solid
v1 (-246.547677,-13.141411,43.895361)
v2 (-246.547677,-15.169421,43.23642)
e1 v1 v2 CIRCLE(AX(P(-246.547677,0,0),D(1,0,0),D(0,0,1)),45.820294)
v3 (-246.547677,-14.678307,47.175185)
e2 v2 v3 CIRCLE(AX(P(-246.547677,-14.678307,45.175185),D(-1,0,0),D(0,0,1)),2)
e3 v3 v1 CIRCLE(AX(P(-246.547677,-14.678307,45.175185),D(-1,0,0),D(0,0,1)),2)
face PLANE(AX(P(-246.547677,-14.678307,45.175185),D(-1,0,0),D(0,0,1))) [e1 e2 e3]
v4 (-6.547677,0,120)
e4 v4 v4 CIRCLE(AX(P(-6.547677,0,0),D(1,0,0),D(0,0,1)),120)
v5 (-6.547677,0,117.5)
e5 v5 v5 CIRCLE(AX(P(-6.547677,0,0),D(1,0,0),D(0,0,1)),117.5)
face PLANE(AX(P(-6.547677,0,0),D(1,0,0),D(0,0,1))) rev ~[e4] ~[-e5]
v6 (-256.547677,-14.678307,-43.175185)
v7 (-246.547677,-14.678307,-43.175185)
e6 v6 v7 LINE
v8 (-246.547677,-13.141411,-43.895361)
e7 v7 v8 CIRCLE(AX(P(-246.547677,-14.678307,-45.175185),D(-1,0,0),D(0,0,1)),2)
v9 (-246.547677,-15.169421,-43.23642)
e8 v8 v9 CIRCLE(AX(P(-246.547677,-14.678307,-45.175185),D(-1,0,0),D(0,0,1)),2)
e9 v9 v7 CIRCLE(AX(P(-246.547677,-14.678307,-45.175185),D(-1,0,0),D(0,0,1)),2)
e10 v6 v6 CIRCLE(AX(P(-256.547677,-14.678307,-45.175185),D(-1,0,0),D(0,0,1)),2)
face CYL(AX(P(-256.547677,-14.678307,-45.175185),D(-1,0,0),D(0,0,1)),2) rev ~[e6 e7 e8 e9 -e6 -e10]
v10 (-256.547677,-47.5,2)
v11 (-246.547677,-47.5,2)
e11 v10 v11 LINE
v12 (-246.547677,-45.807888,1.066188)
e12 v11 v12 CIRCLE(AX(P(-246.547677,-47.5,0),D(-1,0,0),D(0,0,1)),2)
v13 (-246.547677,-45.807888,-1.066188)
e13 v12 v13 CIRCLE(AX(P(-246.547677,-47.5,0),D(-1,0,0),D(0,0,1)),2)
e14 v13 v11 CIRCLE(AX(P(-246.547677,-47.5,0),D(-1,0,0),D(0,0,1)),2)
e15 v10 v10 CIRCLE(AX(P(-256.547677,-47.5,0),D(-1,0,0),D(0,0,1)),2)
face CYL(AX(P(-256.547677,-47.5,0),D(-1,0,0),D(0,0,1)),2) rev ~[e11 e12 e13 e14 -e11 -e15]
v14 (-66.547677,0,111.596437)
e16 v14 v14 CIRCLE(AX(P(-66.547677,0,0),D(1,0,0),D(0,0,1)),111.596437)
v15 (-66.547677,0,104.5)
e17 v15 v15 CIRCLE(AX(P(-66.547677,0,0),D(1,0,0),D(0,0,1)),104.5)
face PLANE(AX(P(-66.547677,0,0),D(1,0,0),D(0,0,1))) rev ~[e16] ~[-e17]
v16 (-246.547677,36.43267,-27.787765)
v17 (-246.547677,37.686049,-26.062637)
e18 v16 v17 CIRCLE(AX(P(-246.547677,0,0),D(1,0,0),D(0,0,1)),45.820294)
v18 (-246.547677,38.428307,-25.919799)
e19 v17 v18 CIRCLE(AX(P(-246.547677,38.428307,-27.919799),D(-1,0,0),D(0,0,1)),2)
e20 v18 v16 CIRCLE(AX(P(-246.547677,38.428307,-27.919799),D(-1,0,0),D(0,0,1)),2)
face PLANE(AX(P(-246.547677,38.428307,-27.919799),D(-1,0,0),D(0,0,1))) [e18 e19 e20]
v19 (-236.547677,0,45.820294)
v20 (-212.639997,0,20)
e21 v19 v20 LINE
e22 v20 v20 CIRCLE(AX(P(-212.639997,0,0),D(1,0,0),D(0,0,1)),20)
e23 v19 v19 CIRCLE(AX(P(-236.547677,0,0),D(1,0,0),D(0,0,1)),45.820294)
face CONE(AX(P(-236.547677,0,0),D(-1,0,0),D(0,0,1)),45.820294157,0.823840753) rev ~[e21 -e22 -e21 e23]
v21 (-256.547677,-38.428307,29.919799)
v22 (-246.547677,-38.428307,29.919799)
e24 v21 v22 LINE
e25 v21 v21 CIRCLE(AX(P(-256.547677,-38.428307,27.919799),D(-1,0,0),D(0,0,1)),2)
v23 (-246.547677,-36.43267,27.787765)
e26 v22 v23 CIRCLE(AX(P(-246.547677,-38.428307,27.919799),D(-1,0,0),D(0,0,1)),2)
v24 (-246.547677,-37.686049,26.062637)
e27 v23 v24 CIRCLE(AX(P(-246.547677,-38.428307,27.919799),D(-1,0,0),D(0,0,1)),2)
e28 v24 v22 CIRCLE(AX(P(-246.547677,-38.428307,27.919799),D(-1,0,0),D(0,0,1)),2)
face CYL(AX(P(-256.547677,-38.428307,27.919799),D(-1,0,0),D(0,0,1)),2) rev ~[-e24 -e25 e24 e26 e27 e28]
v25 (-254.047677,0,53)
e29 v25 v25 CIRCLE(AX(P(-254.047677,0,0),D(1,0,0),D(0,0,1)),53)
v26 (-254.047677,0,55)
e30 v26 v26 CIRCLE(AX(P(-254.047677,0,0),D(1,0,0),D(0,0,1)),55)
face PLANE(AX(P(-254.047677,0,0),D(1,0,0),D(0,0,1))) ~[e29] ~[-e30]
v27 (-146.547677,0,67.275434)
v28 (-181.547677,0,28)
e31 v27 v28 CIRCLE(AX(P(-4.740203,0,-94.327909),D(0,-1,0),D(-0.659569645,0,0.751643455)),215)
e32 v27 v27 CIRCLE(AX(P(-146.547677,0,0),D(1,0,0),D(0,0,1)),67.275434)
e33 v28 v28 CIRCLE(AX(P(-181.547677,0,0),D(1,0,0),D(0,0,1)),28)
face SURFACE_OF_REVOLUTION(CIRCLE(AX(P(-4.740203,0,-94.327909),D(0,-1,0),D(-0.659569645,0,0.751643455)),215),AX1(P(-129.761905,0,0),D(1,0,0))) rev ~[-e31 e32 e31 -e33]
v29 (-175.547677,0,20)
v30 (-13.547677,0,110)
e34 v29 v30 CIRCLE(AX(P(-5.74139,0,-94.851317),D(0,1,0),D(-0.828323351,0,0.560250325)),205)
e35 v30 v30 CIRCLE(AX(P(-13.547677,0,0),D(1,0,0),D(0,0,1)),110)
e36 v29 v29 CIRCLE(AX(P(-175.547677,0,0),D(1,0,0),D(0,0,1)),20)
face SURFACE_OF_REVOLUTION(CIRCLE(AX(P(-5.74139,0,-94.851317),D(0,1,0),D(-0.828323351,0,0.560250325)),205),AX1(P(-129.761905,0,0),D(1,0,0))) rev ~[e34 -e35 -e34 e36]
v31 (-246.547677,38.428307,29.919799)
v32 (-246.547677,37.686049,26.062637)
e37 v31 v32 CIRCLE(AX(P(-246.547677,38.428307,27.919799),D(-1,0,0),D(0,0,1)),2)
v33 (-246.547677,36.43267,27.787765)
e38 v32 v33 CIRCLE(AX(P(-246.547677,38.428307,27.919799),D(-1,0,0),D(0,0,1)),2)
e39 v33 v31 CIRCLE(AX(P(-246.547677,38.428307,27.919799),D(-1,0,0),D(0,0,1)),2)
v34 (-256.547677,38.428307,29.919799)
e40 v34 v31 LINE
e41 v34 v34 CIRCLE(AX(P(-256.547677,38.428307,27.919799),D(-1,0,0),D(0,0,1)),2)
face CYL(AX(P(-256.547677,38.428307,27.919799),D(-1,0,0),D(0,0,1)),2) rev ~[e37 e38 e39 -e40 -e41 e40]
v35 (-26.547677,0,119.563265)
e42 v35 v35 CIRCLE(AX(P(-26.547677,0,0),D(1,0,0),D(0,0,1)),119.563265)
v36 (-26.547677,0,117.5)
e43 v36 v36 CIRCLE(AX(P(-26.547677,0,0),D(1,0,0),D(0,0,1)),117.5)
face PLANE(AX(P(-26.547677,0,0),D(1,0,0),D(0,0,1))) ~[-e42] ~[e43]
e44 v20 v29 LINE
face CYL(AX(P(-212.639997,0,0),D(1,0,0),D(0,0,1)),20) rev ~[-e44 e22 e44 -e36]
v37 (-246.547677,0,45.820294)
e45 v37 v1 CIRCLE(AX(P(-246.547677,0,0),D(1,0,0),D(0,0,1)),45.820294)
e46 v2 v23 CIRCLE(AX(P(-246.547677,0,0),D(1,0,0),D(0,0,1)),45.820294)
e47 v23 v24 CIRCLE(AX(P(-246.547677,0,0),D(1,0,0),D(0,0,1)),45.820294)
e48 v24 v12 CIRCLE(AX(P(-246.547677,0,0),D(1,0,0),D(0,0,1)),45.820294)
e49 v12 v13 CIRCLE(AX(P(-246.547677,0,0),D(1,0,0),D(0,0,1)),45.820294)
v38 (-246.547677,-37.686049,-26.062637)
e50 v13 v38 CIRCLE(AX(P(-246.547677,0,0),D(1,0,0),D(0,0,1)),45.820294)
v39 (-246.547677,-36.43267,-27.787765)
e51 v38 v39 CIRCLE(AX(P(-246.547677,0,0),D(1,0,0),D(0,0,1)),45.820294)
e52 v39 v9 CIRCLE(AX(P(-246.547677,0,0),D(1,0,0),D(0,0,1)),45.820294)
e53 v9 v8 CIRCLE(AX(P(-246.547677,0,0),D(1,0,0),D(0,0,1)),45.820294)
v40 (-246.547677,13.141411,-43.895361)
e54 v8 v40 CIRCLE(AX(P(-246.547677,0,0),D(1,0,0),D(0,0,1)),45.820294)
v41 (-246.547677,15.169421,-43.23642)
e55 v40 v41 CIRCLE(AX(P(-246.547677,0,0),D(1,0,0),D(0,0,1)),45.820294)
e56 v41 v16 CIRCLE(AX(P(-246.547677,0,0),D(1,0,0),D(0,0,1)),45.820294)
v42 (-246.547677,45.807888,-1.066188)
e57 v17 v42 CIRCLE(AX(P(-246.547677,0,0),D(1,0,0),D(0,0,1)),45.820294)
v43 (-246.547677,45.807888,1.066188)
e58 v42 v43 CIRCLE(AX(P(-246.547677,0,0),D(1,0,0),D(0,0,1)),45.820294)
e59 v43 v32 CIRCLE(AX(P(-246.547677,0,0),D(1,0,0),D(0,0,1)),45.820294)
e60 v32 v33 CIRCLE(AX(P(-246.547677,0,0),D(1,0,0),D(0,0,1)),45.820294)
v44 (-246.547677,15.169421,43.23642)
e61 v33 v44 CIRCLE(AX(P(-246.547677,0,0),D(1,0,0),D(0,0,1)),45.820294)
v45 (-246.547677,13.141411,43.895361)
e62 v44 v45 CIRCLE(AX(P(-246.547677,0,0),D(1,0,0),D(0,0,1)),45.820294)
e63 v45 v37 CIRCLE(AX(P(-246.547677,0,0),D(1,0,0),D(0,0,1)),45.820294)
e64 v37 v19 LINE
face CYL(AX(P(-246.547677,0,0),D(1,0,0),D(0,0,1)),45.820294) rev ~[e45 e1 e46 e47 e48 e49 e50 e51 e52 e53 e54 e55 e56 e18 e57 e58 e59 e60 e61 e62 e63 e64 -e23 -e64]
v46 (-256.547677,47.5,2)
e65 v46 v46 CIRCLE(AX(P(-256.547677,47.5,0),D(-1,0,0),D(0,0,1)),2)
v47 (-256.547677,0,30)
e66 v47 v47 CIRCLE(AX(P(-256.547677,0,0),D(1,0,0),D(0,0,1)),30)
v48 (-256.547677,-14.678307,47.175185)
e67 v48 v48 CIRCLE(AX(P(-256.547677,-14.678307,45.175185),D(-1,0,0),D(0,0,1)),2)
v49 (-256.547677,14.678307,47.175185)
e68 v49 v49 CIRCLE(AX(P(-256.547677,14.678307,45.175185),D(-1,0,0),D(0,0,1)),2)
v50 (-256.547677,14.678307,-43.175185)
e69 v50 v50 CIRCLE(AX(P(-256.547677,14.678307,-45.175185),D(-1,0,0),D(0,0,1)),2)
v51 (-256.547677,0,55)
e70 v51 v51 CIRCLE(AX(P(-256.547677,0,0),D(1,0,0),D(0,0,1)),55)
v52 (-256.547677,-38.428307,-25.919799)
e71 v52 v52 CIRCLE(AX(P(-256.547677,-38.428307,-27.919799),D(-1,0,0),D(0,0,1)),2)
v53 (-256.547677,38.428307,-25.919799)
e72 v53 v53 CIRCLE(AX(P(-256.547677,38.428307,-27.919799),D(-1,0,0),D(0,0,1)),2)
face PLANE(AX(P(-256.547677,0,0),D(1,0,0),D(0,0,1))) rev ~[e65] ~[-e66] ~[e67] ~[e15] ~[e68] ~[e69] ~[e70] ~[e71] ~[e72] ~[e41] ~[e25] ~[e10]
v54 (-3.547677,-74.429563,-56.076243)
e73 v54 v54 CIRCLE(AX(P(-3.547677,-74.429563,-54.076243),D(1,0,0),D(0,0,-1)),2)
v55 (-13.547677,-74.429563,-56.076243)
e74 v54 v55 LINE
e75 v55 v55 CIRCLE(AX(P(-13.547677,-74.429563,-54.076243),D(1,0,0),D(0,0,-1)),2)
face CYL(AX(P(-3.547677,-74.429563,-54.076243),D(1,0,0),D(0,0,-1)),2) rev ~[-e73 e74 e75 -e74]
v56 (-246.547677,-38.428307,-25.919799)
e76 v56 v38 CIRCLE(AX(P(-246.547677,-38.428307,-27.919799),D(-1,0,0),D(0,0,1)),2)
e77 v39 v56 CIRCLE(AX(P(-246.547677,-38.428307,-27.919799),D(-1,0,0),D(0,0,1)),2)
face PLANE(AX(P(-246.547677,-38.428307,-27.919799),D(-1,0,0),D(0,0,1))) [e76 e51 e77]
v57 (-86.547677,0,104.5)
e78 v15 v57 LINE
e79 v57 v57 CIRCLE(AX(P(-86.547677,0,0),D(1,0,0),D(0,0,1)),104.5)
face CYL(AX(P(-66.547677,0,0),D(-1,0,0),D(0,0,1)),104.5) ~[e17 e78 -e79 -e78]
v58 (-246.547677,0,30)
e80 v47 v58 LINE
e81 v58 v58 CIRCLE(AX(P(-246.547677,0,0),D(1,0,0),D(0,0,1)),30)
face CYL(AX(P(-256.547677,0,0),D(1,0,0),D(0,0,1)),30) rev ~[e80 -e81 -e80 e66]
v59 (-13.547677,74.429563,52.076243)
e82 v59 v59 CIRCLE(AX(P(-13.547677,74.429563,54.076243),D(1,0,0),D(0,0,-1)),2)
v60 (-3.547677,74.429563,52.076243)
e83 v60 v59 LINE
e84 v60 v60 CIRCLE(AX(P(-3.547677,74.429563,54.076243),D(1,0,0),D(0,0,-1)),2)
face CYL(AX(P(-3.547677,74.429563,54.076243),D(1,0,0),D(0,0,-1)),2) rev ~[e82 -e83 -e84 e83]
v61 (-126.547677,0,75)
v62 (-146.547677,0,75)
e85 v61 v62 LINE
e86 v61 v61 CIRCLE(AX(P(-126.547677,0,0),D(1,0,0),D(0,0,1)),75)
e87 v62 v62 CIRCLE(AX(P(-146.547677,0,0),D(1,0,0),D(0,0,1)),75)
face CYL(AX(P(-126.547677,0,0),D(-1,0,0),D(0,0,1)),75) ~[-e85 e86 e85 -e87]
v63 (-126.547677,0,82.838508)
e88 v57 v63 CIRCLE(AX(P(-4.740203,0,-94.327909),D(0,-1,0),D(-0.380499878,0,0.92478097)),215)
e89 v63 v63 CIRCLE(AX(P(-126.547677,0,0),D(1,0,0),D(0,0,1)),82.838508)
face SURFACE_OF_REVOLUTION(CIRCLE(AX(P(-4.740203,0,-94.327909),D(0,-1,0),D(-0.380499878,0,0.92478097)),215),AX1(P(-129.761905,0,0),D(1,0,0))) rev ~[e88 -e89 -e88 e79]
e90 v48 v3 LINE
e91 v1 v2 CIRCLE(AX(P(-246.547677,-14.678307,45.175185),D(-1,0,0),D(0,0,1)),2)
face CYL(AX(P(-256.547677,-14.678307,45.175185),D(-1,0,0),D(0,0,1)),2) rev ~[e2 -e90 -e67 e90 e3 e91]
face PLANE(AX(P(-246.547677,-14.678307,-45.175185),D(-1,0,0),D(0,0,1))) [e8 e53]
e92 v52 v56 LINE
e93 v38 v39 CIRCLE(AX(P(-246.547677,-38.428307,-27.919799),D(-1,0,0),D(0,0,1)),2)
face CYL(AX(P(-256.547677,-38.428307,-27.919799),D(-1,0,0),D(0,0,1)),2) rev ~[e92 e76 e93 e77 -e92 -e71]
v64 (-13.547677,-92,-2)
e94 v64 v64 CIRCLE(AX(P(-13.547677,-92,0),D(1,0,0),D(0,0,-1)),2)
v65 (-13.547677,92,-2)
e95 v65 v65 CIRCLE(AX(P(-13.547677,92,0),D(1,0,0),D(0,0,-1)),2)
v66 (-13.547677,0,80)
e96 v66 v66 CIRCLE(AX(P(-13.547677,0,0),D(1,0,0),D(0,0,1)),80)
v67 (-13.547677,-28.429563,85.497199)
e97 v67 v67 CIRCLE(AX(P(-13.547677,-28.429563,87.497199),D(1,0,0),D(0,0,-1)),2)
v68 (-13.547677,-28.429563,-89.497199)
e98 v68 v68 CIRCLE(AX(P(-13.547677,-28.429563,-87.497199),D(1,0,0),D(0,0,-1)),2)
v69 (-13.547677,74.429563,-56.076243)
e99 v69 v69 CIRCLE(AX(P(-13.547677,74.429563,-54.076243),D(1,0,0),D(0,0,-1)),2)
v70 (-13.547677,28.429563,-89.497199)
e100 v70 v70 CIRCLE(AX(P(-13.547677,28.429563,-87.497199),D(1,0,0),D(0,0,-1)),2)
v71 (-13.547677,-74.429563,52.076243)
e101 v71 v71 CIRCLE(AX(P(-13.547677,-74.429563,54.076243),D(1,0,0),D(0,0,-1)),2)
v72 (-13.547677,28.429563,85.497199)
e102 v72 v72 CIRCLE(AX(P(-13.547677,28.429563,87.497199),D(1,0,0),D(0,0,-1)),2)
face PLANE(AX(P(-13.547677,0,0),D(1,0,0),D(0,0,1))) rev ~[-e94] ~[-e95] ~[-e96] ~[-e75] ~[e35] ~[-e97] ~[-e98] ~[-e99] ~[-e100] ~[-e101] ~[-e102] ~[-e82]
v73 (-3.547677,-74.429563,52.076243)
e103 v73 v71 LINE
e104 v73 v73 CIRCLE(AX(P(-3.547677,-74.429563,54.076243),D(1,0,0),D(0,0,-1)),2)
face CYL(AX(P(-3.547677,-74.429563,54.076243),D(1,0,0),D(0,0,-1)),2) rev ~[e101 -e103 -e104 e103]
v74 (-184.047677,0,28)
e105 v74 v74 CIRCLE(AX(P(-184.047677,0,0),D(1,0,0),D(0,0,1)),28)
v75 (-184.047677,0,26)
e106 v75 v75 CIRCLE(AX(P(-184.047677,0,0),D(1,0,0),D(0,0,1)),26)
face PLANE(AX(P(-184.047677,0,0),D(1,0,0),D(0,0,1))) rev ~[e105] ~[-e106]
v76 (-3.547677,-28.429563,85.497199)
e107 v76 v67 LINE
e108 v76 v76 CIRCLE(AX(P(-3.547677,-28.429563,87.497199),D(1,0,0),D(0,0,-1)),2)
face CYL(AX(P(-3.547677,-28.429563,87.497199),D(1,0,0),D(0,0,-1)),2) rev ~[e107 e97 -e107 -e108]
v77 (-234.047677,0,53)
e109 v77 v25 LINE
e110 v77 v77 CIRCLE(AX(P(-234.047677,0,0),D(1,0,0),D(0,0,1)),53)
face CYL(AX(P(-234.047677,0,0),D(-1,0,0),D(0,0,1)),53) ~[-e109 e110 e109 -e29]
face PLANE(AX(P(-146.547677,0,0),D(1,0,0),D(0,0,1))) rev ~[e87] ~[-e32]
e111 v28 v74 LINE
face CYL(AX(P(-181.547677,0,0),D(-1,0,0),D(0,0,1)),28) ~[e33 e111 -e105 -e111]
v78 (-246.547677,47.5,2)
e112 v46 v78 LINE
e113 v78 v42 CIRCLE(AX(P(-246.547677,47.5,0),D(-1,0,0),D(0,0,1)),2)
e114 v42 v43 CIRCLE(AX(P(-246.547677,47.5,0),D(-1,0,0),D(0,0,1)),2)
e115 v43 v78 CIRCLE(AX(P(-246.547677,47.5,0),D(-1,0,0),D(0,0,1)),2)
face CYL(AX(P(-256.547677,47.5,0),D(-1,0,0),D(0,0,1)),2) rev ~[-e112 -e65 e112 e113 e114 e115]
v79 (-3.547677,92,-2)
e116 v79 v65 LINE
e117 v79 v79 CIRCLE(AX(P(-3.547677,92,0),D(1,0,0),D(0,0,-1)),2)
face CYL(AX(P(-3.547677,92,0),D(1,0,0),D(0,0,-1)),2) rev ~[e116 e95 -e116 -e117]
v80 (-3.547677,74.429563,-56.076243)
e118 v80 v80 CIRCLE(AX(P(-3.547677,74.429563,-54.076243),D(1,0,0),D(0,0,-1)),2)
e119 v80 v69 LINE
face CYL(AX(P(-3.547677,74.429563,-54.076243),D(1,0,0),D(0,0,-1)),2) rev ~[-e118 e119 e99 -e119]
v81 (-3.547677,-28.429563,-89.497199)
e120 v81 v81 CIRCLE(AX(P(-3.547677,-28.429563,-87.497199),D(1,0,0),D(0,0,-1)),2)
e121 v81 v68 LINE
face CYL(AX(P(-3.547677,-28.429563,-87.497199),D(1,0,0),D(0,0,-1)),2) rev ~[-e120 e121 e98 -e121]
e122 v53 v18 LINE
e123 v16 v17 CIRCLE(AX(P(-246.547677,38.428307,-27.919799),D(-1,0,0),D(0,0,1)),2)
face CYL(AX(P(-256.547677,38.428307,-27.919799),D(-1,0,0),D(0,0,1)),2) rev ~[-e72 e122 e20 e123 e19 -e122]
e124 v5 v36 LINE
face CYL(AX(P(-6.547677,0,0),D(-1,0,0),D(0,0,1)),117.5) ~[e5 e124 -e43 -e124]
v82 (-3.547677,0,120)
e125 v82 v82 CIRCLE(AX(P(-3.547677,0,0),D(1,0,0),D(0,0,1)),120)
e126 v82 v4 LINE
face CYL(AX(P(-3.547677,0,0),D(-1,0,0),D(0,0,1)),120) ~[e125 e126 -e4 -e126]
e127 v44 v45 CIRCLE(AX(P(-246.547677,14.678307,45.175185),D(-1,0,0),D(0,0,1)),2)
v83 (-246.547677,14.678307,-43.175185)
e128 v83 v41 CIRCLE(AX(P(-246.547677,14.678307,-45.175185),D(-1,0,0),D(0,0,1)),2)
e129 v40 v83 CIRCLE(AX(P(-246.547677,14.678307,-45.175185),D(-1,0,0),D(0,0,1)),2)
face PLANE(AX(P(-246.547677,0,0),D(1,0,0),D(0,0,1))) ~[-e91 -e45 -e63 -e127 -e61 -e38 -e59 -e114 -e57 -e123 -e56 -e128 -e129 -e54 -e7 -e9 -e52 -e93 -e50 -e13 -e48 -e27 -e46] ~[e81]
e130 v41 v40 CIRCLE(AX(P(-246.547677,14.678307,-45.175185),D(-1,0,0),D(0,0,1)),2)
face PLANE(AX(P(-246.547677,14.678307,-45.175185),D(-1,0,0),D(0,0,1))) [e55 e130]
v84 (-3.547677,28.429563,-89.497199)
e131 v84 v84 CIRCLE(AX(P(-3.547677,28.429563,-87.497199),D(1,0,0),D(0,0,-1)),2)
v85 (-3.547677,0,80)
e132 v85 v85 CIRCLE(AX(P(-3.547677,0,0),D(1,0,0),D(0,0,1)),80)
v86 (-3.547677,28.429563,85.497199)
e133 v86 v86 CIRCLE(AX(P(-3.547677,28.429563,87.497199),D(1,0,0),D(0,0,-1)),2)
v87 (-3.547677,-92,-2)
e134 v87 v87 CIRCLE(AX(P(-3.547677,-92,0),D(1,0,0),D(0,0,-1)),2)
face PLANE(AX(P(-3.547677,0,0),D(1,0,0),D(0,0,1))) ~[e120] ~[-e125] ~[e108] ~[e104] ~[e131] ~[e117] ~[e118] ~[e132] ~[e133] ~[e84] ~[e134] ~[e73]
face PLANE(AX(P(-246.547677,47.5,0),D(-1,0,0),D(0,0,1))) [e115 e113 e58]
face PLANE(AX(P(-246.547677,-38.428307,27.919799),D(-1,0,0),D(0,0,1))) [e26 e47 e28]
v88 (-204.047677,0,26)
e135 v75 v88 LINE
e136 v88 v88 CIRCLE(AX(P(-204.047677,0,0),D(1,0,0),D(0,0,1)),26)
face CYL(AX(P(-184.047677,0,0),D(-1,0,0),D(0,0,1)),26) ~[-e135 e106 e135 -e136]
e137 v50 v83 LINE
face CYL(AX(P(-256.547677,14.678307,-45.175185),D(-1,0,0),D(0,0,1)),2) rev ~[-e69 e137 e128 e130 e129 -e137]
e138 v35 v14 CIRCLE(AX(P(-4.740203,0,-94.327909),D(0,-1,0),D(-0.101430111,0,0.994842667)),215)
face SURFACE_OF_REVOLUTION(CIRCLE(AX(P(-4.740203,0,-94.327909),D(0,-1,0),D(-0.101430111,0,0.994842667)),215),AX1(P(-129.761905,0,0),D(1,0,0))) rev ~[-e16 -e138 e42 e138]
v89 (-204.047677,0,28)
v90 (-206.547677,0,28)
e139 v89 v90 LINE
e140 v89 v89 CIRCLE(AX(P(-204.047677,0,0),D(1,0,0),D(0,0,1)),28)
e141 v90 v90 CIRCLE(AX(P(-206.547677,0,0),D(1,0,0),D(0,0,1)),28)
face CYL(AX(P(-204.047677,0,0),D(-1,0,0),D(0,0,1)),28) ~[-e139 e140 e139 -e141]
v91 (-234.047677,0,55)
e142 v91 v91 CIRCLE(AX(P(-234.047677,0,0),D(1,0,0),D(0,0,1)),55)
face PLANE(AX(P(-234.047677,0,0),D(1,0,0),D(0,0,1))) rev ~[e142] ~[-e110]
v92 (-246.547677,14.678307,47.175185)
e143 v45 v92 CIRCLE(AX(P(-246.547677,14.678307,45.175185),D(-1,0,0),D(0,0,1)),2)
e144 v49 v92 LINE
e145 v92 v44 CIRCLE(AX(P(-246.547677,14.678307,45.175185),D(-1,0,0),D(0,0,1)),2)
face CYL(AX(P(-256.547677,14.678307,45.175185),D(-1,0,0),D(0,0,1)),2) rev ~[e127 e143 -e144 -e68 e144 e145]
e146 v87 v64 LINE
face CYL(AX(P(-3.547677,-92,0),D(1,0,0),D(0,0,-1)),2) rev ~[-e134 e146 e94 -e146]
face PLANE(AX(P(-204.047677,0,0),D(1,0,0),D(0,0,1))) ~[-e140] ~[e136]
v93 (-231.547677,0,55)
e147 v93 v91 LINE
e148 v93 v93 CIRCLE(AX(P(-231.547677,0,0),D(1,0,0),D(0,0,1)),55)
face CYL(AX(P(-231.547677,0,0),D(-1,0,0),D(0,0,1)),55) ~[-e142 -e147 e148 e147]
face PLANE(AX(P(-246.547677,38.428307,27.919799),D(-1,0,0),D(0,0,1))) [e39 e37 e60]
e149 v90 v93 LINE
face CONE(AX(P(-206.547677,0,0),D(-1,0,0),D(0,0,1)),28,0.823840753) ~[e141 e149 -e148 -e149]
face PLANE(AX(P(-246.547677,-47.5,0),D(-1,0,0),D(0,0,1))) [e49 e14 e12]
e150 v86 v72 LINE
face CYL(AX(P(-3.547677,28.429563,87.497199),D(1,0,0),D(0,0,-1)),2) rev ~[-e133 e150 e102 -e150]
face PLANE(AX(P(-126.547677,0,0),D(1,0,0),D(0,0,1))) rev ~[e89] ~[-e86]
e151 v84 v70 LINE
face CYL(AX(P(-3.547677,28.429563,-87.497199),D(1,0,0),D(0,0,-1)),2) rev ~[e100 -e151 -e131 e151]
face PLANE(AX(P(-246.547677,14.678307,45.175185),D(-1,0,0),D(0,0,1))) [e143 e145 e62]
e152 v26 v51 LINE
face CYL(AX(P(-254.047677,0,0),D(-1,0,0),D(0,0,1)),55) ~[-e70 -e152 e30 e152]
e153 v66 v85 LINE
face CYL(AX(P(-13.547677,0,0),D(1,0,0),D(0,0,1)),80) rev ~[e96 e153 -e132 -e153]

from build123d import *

# Parameters (mm, degrees)
SKETCH2_R          = 2
CUT_EXTRUDE1_DEPTH = 10
SKETCH3_R          = 2
CUT_EXTRUDE2_DEPTH = 10


with BuildPart() as part:
    # Sketch1 → Revolve1 (revolve)
    with BuildSketch(Plane.XY, mode=Mode.PRIVATE) as revolve1_sk:
        with BuildLine():
            Line((-13.547676843, 80), (-3.547676843, 80))
            Line((-3.547676843, 80), (-3.547676843, 120))
            Line((-3.547676843, 120), (-6.547676843, 120))
            Line((-6.547676843, 120), (-6.547676843, 117.5))
            Line((-6.547676843, 117.5), (-26.547676843, 117.5))
            Line((-26.547676843, 117.5), (-26.547676843, 119.563264874))
            ThreePointArc((-26.547676843, 119.563264874), (-46.73701782, 116.53049781), (-66.547676843, 111.59643719))
            Line((-66.547676843, 111.59643719), (-66.547676843, 104.5))
            Line((-66.547676843, 104.5), (-86.547676843, 104.5))
            ThreePointArc((-86.547676843, 104.5), (-107.122168132, 94.730106924), (-126.547676843, 82.838508469))
            Line((-126.547676843, 82.838508469), (-126.547676843, 75))
            Line((-126.547676843, 75), (-146.547676843, 75))
            Line((-146.547676843, 75), (-146.547676843, 67.275434145))
            ThreePointArc((-146.547676843, 67.275434145), (-165.253477075, 48.712256642), (-181.547676843, 28))
            Line((-181.547676843, 28), (-184.047676843, 28))
            Line((-184.047676843, 28), (-184.047676843, 26))
            Line((-184.047676843, 26), (-204.047676843, 26))
            Line((-204.047676843, 26), (-204.047676843, 28))
            Line((-204.047676843, 28), (-206.547676843, 28))
            Line((-206.547676843, 28), (-231.547676843, 55))
            Line((-231.547676843, 55), (-234.047676843, 55))
            Line((-234.047676843, 55), (-234.047676843, 53))
            Line((-234.047676843, 53), (-254.047676843, 53))
            Line((-254.047676843, 53), (-254.047676843, 55))
            Line((-254.047676843, 55), (-256.547676843, 55))
            Line((-256.547676843, 55), (-256.547676843, 30))
            Line((-256.547676843, 30), (-246.547676843, 30))
            Line((-246.547676843, 30), (-246.547676843, 45.820294157))
            Line((-246.547676843, 45.820294157), (-236.547676843, 45.820294157))
            Line((-236.547676843, 45.820294157), (-212.639997068, 20))
            Line((-212.639997068, 20), (-175.547676843, 20))
            ThreePointArc((-175.547676843, 20), (-105.298190774, 84.350925075), (-13.547676843, 110))
            Line((-13.547676843, 110), (-13.547676843, 80))
        make_face()
    revolve(revolve1_sk.sketch.rotate(Axis((-129.761904762, 0, 0), (1, 0, 0)), 90), axis=Axis((-129.761904762, 0, 0), (1, 0, 0)))

    # Sketch2 → Cut-Extrude1 (cut)
    with BuildSketch(Plane(origin=(-3.547676843, 0, 0), x_dir=(0, 0, -1), z_dir=(1, 0, 0))):
        with Locations((0, 92)):
            Circle(SKETCH2_R)
        with Locations((54.076243211, 74.429563482)):
            Circle(SKETCH2_R)
        with Locations((87.497199499, 28.429563482)):
            Circle(SKETCH2_R)
        with Locations((87.497199499, -28.429563482)):
            Circle(SKETCH2_R)
        with Locations((54.076243211, -74.429563482)):
            Circle(SKETCH2_R)
        with Locations((0, -92)):
            Circle(SKETCH2_R)
        with Locations((-54.076243211, -74.429563482)):
            Circle(SKETCH2_R)
        with Locations((-87.497199499, -28.429563482)):
            Circle(SKETCH2_R)
        with Locations((-87.497199499, 28.429563482)):
            Circle(SKETCH2_R)
        with Locations((-54.076243211, 74.429563482)):
            Circle(SKETCH2_R)
    extrude(amount=-CUT_EXTRUDE1_DEPTH, mode=Mode.SUBTRACT)

    # Sketch3 → Cut-Extrude2 (cut)
    with BuildSketch(Plane.ZY.offset(256.547676843)):
        with Locations((0, 47.5)):
            Circle(SKETCH3_R)
        with Locations((27.919799484, 38.428307233)):
            Circle(SKETCH3_R)
        with Locations((45.175184524, 14.678307233)):
            Circle(SKETCH3_R)
        with Locations((45.175184524, -14.678307233)):
            Circle(SKETCH3_R)
        with Locations((27.919799484, -38.428307233)):
            Circle(SKETCH3_R)
        with Locations((0, -47.5)):
            Circle(SKETCH3_R)
        with Locations((-27.919799484, -38.428307233)):
            Circle(SKETCH3_R)
        with Locations((-45.175184524, -14.678307233)):
            Circle(SKETCH3_R)
        with Locations((-45.175184524, 14.678307233)):
            Circle(SKETCH3_R)
        with Locations((-27.919799484, 38.428307233)):
            Circle(SKETCH3_R)
    extrude(amount=-CUT_EXTRUDE2_DEPTH, mode=Mode.SUBTRACT)


solid = part.part
